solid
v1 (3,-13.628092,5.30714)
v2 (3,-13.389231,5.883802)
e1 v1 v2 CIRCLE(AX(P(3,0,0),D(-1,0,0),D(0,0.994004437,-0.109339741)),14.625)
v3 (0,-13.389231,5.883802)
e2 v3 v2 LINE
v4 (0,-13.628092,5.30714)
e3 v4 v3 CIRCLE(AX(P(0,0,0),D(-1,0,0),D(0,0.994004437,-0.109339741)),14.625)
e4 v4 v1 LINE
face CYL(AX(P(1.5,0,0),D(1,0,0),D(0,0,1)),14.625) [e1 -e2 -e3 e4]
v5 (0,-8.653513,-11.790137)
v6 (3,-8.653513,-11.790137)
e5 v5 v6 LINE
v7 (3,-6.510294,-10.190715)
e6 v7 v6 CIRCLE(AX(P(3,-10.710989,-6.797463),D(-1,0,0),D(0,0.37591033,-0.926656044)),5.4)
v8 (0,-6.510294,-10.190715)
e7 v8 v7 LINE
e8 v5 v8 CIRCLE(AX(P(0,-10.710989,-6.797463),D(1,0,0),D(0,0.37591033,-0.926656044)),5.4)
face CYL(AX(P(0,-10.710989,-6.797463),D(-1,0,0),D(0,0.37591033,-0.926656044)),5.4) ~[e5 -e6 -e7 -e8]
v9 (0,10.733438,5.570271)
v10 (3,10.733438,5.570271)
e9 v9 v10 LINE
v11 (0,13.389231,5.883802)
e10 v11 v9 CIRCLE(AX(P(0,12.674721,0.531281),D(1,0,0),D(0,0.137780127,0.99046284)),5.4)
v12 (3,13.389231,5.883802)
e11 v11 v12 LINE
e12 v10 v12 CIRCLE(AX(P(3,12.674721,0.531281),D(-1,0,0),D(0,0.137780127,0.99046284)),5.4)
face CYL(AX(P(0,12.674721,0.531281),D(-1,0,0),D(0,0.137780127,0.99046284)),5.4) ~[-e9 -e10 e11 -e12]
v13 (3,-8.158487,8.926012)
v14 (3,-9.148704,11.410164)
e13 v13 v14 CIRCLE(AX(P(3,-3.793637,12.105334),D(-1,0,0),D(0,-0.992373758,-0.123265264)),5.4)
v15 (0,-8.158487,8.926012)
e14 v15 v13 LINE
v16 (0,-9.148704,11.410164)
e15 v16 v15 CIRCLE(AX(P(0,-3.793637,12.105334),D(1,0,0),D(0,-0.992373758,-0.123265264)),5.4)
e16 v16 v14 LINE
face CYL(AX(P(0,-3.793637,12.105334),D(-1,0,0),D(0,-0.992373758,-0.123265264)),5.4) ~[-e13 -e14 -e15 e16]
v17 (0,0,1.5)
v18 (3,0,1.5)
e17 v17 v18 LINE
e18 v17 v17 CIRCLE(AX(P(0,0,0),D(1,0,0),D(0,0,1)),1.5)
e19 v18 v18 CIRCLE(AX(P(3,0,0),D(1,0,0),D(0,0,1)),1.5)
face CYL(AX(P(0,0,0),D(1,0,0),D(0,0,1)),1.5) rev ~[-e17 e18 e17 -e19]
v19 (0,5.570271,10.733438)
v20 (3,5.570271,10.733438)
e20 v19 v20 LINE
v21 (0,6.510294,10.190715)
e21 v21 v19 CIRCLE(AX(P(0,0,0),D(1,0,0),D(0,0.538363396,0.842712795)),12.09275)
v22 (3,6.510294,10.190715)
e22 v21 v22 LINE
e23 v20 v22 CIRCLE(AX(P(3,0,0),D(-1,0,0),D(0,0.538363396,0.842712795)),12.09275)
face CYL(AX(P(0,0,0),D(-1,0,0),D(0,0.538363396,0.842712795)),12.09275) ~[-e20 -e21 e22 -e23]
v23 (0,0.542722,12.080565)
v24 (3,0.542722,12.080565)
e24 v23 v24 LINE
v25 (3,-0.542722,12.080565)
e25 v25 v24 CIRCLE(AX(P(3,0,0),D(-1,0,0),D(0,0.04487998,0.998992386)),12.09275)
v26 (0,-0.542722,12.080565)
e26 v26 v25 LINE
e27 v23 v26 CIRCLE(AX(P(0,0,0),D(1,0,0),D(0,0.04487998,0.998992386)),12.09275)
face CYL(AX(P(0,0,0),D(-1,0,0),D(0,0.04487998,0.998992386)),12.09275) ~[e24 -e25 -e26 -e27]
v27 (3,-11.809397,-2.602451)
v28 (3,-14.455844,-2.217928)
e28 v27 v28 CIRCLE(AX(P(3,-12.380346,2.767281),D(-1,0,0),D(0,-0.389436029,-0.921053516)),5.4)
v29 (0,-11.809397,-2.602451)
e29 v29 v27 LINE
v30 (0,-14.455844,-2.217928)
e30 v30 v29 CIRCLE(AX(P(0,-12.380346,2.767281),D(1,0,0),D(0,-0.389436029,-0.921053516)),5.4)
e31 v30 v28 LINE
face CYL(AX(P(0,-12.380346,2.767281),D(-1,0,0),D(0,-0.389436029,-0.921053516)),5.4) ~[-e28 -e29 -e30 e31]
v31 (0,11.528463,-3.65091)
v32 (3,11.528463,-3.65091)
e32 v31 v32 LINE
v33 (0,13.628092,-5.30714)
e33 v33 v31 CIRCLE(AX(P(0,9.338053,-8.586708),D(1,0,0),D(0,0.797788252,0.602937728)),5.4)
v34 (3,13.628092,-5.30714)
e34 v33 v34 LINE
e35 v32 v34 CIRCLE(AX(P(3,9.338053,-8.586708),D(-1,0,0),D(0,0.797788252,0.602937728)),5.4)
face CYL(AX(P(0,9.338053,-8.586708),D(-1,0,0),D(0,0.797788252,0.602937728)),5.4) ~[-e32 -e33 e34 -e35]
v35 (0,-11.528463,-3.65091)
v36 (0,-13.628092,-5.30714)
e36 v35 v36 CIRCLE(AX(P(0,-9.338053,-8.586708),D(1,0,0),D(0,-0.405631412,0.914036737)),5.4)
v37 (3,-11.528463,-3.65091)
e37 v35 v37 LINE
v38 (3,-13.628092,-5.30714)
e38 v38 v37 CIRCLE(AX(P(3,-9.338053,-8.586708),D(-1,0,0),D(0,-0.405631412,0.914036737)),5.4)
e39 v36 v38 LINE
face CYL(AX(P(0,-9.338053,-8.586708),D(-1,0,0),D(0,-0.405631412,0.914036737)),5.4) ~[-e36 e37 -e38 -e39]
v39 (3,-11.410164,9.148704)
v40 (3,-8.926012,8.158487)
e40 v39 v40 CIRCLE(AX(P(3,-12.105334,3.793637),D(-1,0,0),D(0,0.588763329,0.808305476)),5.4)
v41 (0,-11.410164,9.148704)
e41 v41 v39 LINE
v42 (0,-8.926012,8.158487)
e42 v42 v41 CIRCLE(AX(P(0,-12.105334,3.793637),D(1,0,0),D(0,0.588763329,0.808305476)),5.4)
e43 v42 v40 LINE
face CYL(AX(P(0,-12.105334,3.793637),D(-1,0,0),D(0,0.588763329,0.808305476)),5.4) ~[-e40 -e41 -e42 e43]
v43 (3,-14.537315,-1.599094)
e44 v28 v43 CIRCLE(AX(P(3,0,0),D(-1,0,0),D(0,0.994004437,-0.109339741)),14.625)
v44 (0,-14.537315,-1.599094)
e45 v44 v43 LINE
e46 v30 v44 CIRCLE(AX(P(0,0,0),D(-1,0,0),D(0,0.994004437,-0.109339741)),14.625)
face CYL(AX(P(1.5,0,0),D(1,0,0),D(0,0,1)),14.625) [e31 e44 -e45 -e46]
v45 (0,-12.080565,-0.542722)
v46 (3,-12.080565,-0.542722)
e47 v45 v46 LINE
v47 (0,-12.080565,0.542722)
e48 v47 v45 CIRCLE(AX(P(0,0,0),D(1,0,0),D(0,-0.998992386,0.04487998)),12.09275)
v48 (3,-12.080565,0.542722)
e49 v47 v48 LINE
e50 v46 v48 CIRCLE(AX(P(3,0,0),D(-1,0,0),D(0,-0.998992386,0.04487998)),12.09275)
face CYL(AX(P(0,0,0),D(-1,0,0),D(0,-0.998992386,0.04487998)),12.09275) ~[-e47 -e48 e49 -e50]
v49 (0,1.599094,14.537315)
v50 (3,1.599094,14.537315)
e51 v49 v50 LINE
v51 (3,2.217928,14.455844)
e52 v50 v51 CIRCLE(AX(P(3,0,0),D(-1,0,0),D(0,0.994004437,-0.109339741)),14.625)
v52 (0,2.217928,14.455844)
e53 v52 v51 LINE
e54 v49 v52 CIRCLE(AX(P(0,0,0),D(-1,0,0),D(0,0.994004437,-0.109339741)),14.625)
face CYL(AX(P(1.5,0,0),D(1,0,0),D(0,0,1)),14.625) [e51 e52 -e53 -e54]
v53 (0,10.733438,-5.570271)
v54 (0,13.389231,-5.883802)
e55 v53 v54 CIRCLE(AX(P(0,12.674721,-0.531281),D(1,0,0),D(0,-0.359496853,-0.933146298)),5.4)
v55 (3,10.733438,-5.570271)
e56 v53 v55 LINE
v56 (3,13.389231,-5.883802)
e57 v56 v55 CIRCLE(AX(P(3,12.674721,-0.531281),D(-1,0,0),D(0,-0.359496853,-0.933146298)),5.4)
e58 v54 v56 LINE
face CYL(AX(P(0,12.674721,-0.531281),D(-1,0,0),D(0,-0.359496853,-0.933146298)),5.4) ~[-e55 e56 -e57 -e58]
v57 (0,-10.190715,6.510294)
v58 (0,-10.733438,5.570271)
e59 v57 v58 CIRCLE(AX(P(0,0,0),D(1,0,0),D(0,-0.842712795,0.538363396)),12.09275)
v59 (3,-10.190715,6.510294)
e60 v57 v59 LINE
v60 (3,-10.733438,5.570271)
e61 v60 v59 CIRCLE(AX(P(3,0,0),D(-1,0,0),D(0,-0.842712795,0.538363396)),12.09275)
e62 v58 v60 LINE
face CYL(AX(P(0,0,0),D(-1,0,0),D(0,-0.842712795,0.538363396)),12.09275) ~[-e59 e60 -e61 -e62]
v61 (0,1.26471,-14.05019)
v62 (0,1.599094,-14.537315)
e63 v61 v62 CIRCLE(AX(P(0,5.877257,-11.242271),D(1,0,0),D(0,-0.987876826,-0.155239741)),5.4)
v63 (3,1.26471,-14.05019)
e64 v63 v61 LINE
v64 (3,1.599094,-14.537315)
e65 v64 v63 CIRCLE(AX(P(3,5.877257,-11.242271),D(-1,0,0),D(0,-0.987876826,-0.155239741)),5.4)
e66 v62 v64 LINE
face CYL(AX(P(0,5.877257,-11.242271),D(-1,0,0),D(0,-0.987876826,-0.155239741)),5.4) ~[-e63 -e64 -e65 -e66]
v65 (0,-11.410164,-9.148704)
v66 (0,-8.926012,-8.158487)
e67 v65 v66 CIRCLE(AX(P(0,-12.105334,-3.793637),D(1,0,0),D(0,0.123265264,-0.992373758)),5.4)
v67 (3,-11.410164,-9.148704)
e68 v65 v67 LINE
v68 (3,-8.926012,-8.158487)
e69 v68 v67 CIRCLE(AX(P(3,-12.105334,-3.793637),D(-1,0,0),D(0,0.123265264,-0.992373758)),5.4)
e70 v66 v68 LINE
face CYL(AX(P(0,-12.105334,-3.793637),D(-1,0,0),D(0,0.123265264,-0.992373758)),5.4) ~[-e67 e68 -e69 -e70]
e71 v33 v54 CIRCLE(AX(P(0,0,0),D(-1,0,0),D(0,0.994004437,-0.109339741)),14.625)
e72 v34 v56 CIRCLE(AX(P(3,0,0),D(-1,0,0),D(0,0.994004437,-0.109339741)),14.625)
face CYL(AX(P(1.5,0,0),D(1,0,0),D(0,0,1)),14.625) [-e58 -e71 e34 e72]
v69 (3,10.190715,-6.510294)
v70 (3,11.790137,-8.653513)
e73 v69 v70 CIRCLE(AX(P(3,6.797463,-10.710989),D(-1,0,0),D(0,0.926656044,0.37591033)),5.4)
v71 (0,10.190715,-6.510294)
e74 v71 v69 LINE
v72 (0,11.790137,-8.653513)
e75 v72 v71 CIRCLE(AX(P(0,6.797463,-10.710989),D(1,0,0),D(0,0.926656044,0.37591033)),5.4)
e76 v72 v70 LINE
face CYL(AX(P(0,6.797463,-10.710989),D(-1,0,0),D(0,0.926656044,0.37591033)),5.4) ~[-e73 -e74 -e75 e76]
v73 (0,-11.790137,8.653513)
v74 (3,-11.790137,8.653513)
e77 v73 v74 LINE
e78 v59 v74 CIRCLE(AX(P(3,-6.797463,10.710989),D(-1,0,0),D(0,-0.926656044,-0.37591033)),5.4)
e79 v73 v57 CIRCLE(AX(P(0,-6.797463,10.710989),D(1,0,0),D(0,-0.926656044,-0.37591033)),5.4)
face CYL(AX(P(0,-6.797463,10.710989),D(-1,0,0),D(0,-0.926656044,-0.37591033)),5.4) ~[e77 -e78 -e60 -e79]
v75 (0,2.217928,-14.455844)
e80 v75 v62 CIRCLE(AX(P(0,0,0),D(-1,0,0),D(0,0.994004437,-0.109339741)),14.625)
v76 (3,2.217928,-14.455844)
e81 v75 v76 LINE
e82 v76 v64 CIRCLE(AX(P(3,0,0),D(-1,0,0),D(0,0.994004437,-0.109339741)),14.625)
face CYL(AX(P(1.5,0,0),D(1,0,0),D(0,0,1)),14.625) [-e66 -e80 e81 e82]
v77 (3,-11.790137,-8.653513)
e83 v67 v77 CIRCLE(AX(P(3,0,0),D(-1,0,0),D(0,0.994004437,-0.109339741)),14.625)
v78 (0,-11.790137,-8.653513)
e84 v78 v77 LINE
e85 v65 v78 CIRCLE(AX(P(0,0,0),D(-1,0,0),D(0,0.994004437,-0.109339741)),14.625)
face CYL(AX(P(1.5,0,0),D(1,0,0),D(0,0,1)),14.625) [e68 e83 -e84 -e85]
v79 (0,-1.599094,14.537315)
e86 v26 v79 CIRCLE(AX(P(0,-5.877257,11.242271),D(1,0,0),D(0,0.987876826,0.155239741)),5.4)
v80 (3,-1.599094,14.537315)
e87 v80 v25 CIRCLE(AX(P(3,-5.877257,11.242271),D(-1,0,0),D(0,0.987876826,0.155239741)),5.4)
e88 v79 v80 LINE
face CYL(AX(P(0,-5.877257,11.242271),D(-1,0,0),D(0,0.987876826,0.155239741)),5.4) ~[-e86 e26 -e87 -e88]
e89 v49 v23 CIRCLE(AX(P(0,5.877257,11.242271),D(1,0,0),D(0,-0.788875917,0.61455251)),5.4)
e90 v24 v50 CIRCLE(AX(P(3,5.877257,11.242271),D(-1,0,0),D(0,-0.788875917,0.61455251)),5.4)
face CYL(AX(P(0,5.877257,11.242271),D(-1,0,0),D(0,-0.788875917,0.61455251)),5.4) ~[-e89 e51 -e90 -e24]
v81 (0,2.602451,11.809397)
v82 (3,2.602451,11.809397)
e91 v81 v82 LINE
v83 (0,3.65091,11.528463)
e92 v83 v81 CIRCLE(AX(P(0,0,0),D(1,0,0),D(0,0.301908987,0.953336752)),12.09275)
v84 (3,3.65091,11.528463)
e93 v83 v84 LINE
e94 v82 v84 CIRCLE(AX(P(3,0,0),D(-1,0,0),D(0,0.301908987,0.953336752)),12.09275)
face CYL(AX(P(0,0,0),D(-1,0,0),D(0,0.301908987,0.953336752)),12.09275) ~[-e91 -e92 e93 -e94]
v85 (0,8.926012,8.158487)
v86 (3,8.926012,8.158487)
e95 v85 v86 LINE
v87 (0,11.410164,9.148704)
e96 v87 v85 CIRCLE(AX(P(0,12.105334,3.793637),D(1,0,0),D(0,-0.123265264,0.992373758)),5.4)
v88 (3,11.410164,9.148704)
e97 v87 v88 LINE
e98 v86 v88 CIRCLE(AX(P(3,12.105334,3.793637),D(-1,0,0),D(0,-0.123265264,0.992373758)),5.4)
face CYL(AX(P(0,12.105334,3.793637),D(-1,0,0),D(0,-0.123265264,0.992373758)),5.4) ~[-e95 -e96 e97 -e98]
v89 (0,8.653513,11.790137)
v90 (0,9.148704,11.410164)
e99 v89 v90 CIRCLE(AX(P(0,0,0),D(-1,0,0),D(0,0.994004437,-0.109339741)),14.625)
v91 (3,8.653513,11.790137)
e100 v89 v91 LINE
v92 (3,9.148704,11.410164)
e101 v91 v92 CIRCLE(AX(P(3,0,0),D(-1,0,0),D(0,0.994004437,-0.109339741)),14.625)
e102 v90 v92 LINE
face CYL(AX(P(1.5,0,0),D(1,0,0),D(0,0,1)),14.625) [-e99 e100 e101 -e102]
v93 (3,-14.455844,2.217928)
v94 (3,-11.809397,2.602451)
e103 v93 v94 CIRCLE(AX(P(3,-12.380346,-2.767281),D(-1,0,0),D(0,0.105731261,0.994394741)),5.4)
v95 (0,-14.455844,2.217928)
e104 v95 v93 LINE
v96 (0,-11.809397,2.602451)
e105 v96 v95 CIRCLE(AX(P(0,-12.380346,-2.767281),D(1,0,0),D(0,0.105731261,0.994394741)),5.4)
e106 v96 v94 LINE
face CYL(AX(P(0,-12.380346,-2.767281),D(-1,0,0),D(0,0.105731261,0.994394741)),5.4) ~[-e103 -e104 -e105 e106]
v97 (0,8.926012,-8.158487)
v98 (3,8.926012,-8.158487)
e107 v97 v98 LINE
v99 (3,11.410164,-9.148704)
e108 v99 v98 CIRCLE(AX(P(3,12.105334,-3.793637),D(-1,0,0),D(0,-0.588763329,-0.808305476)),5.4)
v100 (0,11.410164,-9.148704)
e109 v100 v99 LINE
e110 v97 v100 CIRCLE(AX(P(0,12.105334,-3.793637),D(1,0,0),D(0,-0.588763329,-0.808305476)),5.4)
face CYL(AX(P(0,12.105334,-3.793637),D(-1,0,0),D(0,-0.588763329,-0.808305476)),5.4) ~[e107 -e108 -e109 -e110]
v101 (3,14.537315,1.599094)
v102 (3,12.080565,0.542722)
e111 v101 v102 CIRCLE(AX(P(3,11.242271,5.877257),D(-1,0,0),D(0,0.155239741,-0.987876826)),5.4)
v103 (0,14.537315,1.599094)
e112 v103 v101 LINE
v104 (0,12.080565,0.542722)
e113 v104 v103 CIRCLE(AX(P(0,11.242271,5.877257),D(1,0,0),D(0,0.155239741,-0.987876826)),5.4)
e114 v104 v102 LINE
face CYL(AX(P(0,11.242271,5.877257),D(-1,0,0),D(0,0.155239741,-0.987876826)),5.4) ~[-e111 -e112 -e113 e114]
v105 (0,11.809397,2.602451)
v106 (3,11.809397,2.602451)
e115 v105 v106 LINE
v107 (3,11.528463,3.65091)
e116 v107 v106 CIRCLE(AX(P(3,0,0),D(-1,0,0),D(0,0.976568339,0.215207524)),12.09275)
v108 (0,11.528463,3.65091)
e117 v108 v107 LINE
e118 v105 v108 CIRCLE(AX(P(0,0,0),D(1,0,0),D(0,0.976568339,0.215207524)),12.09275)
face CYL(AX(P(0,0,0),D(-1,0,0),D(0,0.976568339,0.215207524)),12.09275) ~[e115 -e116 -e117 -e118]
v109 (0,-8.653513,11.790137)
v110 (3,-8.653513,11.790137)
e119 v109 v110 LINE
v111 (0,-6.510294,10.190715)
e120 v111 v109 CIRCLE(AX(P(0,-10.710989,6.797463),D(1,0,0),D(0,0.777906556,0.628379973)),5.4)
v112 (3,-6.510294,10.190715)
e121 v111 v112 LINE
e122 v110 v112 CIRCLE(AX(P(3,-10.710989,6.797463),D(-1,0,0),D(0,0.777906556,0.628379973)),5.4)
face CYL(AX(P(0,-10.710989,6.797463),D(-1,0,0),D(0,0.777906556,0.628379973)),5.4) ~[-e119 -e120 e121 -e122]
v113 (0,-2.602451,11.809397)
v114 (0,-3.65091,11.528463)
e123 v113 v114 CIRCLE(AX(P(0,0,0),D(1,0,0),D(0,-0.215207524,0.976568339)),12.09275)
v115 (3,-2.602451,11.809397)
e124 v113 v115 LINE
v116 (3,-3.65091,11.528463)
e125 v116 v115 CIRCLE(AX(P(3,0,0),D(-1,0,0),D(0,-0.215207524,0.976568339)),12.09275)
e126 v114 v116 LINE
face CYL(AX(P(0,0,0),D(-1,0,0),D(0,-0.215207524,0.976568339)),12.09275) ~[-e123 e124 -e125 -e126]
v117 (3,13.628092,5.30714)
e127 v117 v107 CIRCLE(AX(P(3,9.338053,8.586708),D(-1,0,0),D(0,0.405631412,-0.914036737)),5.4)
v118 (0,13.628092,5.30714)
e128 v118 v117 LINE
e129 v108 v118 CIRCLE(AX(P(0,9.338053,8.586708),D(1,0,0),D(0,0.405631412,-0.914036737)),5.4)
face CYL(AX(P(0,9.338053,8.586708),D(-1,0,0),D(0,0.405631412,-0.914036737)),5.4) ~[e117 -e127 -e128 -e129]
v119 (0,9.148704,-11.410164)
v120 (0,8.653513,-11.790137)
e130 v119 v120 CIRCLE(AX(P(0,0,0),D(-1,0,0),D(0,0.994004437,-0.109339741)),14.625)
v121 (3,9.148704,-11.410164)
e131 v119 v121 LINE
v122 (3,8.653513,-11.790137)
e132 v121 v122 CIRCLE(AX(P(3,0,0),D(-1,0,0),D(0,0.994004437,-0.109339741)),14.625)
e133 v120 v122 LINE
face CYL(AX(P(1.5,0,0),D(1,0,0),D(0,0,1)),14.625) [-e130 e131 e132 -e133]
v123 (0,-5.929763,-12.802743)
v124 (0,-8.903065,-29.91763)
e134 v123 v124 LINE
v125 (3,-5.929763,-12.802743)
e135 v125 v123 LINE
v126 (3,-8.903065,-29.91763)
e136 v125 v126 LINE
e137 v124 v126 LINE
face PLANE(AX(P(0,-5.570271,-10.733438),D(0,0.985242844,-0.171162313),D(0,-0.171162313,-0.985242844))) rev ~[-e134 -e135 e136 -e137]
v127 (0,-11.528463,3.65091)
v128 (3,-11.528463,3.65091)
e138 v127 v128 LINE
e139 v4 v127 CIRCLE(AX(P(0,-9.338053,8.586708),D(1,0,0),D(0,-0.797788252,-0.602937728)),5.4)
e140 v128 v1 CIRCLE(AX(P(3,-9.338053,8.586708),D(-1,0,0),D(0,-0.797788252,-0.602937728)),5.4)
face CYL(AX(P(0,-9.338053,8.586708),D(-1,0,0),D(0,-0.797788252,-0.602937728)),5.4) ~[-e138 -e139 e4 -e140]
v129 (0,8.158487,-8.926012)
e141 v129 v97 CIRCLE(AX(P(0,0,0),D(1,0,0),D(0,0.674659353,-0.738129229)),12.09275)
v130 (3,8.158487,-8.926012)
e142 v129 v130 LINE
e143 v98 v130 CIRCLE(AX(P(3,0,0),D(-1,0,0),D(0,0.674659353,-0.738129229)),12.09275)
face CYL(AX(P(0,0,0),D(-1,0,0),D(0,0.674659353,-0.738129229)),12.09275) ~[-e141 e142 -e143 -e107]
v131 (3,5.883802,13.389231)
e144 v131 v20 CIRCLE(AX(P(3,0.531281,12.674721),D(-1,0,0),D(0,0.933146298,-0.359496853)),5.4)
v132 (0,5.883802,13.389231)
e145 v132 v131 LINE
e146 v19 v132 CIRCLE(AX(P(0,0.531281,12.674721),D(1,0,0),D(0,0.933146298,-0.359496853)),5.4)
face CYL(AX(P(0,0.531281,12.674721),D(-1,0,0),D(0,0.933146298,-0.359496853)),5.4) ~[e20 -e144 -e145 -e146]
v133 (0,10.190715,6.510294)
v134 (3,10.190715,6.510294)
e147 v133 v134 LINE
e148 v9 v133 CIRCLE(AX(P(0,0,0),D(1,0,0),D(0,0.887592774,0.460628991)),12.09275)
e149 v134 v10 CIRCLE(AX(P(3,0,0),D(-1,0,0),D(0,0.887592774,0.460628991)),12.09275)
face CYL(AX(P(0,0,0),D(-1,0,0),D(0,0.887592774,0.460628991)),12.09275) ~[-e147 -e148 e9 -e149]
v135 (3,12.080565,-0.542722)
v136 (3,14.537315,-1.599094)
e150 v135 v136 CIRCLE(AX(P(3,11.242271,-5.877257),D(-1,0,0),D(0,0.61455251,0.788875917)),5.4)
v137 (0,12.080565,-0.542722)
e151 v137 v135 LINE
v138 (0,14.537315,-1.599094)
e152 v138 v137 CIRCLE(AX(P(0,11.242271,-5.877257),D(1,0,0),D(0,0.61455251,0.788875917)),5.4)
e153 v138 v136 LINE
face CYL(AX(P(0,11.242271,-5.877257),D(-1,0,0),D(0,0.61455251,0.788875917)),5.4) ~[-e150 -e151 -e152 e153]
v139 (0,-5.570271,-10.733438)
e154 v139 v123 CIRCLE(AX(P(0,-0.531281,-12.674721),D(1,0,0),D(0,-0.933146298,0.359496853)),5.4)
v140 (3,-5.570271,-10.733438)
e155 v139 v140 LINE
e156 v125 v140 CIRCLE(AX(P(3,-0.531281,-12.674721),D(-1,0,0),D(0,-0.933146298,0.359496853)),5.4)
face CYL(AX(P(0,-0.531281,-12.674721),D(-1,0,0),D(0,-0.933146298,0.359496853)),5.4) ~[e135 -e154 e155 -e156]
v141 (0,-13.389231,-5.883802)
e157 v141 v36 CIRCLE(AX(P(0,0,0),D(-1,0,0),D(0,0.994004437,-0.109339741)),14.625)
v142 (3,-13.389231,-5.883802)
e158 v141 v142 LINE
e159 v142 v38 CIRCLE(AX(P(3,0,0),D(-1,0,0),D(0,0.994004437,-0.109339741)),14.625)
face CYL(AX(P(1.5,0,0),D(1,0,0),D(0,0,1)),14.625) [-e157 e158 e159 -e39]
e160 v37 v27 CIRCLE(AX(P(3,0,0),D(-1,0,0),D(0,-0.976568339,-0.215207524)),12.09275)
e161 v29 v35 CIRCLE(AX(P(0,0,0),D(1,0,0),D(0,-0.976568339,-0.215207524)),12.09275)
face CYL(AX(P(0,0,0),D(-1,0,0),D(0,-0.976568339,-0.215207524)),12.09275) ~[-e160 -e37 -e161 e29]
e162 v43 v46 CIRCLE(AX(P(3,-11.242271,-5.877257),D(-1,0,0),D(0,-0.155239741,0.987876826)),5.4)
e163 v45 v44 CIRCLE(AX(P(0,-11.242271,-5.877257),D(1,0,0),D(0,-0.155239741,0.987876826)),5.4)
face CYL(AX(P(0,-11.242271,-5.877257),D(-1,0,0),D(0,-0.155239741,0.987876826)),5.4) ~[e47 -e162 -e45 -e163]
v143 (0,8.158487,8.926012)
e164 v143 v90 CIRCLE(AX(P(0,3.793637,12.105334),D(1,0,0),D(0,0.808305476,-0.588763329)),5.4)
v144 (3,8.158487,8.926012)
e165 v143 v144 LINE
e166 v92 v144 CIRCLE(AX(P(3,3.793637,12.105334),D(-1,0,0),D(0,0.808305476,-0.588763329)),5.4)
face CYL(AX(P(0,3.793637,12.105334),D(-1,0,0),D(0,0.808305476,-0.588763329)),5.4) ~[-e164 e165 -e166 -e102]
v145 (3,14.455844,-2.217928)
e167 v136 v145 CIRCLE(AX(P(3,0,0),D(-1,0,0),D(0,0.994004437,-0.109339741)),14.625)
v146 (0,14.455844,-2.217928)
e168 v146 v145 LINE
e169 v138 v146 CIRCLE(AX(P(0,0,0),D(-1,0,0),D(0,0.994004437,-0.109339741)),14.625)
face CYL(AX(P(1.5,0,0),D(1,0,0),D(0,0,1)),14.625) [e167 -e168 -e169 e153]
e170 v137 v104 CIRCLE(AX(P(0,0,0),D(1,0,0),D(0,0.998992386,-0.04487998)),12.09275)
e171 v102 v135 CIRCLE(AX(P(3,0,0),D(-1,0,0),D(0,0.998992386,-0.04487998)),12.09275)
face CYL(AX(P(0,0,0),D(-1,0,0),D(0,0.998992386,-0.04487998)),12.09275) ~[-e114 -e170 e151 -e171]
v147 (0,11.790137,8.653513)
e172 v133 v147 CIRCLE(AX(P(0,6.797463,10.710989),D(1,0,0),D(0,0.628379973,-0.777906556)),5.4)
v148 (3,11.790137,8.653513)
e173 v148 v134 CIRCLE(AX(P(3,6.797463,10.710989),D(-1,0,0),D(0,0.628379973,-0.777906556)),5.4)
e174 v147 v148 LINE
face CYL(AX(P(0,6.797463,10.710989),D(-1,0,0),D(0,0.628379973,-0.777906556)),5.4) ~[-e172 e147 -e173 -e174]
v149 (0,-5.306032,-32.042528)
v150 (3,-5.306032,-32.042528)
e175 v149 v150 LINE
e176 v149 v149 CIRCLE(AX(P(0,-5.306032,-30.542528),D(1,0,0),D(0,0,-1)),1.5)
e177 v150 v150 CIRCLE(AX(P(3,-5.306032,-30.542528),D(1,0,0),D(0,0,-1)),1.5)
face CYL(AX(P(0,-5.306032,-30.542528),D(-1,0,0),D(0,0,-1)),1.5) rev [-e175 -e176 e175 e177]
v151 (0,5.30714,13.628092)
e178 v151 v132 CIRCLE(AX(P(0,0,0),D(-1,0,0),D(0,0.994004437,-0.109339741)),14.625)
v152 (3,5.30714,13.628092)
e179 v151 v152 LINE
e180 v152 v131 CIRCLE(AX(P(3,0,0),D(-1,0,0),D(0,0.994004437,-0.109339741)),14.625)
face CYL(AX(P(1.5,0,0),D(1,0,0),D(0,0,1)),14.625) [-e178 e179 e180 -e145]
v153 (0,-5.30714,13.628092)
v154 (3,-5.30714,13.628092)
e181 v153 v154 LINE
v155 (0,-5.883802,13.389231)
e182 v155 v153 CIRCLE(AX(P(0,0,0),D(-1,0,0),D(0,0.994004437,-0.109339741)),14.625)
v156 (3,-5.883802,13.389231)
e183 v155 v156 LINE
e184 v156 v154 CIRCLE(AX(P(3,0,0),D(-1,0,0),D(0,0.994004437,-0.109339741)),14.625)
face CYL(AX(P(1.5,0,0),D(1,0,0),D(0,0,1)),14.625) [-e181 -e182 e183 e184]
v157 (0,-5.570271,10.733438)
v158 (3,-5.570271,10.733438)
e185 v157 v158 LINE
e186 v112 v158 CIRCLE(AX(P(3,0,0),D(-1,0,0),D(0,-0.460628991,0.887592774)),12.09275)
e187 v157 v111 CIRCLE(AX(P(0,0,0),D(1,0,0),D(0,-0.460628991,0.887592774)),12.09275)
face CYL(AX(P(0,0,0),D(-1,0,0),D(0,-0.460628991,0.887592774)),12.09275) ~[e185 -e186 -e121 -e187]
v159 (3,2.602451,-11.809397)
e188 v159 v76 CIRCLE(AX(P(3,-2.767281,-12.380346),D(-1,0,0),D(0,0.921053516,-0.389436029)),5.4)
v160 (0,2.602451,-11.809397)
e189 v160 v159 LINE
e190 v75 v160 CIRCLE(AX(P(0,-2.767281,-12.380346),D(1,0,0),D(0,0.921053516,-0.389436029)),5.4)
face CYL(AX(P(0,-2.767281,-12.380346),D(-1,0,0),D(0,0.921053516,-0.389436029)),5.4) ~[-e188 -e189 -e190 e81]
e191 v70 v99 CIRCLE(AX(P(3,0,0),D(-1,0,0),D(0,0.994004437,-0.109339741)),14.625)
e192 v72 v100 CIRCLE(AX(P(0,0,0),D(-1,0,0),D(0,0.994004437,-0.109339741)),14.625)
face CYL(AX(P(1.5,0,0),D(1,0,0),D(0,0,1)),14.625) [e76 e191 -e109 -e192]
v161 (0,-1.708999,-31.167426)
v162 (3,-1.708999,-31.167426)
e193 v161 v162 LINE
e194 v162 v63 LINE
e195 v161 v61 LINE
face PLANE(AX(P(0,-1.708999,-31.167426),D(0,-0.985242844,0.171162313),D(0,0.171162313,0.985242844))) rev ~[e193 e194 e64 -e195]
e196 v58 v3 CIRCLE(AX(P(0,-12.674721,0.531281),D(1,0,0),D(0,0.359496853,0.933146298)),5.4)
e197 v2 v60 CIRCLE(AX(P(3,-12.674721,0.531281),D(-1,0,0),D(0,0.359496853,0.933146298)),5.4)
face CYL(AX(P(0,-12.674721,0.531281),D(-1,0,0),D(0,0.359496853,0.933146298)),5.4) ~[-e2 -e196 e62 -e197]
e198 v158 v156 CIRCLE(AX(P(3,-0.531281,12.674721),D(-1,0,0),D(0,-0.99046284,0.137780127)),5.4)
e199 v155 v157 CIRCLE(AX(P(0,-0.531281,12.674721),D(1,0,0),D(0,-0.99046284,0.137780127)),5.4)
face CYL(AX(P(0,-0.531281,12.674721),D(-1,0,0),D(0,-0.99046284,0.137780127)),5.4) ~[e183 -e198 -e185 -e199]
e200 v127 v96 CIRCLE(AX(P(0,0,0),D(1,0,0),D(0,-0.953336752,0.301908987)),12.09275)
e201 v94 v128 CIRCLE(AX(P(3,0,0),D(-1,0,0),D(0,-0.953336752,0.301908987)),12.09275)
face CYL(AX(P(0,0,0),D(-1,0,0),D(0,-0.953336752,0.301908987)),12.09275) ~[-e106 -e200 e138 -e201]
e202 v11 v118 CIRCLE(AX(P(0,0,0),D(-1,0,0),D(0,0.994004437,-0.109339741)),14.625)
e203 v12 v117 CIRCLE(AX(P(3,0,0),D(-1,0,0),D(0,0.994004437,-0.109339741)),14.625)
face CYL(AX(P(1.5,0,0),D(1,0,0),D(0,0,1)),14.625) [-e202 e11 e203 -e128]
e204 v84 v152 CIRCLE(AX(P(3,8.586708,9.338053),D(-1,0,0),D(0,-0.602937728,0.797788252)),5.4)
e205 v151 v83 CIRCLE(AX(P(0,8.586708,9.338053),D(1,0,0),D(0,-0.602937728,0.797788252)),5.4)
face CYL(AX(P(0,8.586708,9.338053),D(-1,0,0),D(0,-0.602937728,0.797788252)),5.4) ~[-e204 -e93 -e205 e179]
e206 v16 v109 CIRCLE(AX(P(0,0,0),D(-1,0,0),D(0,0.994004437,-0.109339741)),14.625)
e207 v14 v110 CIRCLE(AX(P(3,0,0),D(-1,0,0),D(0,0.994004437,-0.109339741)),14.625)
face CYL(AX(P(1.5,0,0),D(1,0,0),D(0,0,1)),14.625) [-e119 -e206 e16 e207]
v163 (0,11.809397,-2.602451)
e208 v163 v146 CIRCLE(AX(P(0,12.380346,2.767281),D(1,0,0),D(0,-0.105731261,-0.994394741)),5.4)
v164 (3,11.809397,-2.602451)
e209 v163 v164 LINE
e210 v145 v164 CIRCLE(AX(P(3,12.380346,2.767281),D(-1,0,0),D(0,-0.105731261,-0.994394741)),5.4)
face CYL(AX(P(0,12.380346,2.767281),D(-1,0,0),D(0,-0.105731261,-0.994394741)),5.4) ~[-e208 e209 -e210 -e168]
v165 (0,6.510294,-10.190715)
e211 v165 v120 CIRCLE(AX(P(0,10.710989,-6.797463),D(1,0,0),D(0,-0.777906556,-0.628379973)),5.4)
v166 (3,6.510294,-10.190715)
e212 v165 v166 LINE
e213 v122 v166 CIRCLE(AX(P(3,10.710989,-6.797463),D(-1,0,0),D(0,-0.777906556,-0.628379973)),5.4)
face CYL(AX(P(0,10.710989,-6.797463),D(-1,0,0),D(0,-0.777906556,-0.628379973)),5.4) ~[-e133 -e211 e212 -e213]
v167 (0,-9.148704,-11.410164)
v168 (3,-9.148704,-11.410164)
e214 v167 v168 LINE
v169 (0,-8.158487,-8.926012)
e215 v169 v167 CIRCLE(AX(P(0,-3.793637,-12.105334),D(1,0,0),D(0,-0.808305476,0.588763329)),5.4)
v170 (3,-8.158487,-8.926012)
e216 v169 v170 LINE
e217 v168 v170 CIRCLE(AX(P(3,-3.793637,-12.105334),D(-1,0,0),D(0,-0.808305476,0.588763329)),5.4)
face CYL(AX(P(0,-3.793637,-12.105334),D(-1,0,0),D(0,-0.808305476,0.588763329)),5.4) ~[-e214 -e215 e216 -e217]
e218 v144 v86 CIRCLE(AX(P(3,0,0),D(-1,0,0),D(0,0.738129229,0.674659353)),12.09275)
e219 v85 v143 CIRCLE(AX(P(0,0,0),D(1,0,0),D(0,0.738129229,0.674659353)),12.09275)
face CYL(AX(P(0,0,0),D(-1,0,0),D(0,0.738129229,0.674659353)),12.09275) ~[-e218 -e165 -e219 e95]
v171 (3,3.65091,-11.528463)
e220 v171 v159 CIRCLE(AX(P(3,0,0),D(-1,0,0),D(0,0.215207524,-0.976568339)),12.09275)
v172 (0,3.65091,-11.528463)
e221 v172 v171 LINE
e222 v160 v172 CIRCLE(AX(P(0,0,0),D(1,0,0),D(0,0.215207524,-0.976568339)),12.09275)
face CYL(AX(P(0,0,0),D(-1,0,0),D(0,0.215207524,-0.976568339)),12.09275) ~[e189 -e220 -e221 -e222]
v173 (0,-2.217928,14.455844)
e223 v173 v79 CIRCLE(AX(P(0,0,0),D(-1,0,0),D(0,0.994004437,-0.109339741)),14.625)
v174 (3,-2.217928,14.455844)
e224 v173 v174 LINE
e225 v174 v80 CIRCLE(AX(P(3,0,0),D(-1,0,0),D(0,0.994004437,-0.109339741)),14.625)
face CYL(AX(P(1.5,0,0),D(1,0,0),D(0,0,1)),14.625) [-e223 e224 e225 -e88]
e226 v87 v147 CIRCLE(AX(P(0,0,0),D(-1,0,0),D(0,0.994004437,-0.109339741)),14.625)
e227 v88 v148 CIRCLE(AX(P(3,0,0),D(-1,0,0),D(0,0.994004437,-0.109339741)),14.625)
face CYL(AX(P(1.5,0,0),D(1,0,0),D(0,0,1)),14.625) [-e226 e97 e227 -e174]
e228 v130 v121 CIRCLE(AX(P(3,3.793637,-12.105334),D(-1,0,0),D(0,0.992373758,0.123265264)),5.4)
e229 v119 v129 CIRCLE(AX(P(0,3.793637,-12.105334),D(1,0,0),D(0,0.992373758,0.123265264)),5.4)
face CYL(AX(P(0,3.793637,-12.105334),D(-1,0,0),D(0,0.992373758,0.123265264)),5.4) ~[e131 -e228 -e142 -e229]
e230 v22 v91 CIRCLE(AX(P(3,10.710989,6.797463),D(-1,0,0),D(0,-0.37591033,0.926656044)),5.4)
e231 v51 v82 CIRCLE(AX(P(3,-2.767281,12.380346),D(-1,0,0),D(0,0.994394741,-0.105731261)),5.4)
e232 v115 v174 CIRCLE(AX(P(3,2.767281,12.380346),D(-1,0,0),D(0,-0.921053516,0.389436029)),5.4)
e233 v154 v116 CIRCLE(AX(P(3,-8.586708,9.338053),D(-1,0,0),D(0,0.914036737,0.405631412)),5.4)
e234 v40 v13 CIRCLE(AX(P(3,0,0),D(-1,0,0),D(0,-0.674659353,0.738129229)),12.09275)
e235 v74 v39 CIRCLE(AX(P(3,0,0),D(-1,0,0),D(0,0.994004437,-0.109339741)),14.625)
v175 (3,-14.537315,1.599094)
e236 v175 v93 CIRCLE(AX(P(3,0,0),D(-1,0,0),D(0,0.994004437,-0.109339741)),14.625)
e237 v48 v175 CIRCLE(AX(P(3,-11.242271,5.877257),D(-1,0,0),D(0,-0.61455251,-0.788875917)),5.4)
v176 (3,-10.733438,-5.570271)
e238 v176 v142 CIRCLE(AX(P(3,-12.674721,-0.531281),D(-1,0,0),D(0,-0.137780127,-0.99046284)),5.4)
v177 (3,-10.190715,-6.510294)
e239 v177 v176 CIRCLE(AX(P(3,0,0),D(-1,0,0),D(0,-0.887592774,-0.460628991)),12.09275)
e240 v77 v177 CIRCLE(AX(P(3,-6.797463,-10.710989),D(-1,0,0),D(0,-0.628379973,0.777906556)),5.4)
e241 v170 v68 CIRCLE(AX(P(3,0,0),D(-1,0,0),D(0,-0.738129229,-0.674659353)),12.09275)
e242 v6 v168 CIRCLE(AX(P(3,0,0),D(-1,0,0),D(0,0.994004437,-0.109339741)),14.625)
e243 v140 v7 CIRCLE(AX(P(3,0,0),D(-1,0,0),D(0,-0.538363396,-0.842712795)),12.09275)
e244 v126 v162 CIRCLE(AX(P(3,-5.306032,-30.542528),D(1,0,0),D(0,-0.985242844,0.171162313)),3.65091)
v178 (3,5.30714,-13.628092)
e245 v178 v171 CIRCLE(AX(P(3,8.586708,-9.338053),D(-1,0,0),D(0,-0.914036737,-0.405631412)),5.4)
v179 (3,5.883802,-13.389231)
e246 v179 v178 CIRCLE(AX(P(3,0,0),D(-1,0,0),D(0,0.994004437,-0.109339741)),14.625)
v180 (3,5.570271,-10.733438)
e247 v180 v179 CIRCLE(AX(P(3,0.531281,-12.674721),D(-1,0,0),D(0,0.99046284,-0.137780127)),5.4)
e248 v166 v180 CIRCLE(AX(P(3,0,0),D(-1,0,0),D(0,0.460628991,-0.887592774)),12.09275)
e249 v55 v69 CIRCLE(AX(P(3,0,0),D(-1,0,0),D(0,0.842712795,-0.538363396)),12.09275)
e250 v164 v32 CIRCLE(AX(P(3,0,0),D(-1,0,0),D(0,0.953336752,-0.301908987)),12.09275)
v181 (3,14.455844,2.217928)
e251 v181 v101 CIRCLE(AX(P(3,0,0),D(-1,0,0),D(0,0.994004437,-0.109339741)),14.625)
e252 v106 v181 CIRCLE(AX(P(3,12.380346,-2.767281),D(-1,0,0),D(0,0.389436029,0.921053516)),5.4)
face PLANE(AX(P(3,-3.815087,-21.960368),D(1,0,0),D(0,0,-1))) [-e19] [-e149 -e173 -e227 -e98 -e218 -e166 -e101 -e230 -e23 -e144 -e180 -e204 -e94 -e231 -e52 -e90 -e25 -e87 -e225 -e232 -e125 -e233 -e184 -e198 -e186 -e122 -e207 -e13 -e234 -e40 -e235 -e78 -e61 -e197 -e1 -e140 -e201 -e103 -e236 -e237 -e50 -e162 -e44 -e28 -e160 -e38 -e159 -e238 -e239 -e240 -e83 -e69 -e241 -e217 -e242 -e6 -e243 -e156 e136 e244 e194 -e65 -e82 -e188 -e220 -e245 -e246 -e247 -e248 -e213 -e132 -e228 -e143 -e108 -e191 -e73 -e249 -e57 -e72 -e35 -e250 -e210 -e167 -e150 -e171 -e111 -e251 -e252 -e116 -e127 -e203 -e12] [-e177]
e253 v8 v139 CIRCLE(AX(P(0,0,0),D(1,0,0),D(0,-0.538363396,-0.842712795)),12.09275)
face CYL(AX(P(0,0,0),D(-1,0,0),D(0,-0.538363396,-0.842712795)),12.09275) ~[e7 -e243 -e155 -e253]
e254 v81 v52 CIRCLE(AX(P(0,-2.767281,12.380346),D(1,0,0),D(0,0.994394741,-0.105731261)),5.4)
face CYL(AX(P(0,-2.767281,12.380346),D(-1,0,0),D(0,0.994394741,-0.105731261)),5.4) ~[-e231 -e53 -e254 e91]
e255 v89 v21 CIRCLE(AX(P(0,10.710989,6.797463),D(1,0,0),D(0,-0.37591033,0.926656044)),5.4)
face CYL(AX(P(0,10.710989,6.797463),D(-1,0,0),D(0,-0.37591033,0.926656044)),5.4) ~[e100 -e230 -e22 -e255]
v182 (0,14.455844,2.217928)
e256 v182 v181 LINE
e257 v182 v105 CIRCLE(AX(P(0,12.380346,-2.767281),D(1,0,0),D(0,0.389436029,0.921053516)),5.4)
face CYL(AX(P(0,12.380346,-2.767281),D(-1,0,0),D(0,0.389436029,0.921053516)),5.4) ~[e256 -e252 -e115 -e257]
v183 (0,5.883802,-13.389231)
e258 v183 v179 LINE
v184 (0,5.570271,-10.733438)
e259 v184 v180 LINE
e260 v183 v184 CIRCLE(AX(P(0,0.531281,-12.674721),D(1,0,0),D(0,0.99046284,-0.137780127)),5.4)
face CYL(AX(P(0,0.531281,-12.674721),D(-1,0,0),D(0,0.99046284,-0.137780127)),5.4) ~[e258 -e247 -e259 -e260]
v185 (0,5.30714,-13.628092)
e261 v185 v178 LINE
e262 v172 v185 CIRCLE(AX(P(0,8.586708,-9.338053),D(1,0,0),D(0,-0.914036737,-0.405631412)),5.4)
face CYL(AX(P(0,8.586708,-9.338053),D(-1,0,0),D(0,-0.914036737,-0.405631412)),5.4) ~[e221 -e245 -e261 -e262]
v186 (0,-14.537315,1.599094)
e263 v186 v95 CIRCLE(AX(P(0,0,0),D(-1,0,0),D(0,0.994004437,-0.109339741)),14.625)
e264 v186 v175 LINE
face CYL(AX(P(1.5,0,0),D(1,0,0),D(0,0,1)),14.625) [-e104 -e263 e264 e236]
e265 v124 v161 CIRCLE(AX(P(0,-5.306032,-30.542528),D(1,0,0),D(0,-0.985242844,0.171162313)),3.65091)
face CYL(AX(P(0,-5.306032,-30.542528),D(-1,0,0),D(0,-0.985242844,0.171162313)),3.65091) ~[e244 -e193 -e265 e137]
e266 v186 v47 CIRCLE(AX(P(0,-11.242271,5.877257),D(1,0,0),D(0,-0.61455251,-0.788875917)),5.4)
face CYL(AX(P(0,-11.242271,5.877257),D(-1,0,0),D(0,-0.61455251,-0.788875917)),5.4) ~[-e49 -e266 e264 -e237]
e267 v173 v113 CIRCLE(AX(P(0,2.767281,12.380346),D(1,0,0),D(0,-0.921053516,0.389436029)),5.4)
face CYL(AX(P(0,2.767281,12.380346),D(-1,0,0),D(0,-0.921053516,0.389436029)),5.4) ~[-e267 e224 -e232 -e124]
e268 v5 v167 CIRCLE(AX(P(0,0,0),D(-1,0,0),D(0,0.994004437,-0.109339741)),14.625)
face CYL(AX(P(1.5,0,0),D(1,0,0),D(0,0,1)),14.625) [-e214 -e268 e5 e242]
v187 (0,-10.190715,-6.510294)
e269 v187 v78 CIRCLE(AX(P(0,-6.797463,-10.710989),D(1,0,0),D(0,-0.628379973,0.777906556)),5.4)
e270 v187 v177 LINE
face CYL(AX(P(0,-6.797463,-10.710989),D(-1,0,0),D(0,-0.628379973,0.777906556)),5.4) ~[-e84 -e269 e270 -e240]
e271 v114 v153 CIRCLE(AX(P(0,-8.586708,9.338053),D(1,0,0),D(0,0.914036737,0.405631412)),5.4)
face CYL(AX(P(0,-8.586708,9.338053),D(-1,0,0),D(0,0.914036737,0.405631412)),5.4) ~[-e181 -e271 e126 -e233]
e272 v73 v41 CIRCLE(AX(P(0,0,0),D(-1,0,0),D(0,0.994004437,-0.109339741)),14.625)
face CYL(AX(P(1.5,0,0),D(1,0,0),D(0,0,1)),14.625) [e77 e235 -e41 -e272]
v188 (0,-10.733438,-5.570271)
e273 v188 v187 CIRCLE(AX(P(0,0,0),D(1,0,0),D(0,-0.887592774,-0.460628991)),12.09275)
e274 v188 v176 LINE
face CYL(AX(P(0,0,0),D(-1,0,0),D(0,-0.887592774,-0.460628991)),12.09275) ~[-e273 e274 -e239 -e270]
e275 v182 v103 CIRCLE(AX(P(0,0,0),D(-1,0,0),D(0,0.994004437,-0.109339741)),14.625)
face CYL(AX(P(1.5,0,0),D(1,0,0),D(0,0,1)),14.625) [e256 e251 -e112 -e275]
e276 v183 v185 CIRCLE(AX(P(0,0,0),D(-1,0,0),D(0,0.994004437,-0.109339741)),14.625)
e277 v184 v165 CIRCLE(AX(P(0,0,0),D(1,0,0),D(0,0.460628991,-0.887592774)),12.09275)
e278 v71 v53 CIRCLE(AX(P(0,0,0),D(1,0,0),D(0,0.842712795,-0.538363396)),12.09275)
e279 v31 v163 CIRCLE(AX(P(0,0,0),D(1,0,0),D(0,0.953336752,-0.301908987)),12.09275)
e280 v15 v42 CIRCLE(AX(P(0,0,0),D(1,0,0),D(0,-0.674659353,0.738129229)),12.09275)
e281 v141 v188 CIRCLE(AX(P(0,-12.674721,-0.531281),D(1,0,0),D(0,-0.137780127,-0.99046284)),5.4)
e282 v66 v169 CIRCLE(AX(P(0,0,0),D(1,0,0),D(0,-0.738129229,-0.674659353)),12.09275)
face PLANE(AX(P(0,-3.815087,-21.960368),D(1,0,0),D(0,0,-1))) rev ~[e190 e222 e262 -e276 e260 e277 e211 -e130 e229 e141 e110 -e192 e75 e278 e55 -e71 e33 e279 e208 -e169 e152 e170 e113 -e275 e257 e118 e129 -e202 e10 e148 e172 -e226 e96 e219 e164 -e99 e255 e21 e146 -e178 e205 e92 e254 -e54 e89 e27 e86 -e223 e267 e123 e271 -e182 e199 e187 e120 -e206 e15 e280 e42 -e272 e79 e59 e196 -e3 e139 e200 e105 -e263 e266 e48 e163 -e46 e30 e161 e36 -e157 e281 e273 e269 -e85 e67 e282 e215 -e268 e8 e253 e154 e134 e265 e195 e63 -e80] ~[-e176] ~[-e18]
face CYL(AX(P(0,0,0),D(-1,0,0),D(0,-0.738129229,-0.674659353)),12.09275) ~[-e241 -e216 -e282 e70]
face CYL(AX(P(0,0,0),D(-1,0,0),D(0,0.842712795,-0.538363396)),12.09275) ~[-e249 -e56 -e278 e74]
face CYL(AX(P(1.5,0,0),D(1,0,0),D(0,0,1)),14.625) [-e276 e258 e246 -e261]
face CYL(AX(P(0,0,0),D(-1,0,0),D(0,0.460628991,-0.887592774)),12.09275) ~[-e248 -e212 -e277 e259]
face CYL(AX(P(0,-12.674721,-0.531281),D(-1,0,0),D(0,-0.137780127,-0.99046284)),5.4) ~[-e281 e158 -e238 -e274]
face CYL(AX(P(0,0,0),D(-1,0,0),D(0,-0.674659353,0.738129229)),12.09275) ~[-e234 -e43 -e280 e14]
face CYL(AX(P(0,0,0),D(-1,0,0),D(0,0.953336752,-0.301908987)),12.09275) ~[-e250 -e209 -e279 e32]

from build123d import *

# Parameters (mm, degrees)
BASPROSKE_W         = 3
BASPROSKE_H         = 14.625
TOOTHCUT_DEPTH      = 21.89931219
TEETHCUTS_COUNT     = 24
TEETHCUTS_ANGLE     = 345
BORSKE_R            = 1.5
BORE_DEPTH          = 50.0000508
SKETCH1_R           = 1.5
BOSS_EXTRUDE1_DEPTH = 3


with BuildPart() as part:
    # BasProSke → Base-Revolve (revolve)
    with BuildSketch(Plane(origin=(0, 0, 0), x_dir=(1, 0, 0), z_dir=(0, 1, 0)), mode=Mode.PRIVATE) as base_revolve_sk:
        with Locations((1.5, 7.3125)):
            Rectangle(BASPROSKE_W, BASPROSKE_H)
    revolve(base_revolve_sk.sketch.rotate(Axis((-10, 0, 0), (1, 0, 0)), 180), axis=Axis((-10, 0, 0), (1, 0, 0)))

    # TooCutSke → ToothCut (cut, through all)
    with BuildSketch(Plane(origin=(0, 0, 0), x_dir=(0, 0, -1), z_dir=(1, 0, 0))):
        with BuildLine():
            ThreePointArc((0.542722358, 12.080565177), (0, 12.09275), (-0.542722358, 12.080565177))
            ThreePointArc((-0.542722358, 12.080565177), (-0.922320579, 13.38903626), (-1.617327261, 14.56085412))
            ThreePointArc((-1.617327261, 14.56085412), (0, 14.6504), (1.617327261, 14.56085412))
            ThreePointArc((1.617327261, 14.56085412), (0.922320579, 13.38903626), (0.542722358, 12.080565177))
        make_face()
    toothcut = extrude(amount=TOOTHCUT_DEPTH, mode=Mode.SUBTRACT)

    # TeethCuts: ToothCut ×24 about axis
    teethcuts_axis = Axis((-10, 0, 0), (1, 0, 0))
    for i in range(1, TEETHCUTS_COUNT):
        add(toothcut.rotate(teethcuts_axis, i * TEETHCUTS_ANGLE / (TEETHCUTS_COUNT - 1)), mode=Mode.SUBTRACT)

    # BorSke → Bore (cut, symmetric)
    with BuildSketch(Plane(origin=(0, 0, 0), x_dir=(0, 0, -1), z_dir=(1, 0, 0))):
        with Locations(Location((0, 0, 0), (0, 0, 180))):
            Circle(BORSKE_R)
    extrude(amount=BORE_DEPTH, both=True, mode=Mode.SUBTRACT)

    # Sketch1 → Boss-Extrude1 (add)
    with BuildSketch(Plane(origin=(0, 0, 0), x_dir=(0, 0, -1), z_dir=(1, 0, 0))):
        with BuildLine():
            Line((31.167426359, -1.708998873), (11.983233878, 1.623794441))
            Line((11.983233878, 1.623794441), (10.733437515, -5.57027124))
            Line((10.733437515, -5.57027124), (29.917629996, -8.903064553))
            ThreePointArc((29.917629996, -8.903064553), (34.139561018, -5.930929895), (31.167426359, -1.708998873))
        make_face()
        with Locations((30.542528177, -5.306031713)):
            Circle(SKETCH1_R, mode=Mode.SUBTRACT)
    extrude(amount=BOSS_EXTRUDE1_DEPTH)


solid = part.part
